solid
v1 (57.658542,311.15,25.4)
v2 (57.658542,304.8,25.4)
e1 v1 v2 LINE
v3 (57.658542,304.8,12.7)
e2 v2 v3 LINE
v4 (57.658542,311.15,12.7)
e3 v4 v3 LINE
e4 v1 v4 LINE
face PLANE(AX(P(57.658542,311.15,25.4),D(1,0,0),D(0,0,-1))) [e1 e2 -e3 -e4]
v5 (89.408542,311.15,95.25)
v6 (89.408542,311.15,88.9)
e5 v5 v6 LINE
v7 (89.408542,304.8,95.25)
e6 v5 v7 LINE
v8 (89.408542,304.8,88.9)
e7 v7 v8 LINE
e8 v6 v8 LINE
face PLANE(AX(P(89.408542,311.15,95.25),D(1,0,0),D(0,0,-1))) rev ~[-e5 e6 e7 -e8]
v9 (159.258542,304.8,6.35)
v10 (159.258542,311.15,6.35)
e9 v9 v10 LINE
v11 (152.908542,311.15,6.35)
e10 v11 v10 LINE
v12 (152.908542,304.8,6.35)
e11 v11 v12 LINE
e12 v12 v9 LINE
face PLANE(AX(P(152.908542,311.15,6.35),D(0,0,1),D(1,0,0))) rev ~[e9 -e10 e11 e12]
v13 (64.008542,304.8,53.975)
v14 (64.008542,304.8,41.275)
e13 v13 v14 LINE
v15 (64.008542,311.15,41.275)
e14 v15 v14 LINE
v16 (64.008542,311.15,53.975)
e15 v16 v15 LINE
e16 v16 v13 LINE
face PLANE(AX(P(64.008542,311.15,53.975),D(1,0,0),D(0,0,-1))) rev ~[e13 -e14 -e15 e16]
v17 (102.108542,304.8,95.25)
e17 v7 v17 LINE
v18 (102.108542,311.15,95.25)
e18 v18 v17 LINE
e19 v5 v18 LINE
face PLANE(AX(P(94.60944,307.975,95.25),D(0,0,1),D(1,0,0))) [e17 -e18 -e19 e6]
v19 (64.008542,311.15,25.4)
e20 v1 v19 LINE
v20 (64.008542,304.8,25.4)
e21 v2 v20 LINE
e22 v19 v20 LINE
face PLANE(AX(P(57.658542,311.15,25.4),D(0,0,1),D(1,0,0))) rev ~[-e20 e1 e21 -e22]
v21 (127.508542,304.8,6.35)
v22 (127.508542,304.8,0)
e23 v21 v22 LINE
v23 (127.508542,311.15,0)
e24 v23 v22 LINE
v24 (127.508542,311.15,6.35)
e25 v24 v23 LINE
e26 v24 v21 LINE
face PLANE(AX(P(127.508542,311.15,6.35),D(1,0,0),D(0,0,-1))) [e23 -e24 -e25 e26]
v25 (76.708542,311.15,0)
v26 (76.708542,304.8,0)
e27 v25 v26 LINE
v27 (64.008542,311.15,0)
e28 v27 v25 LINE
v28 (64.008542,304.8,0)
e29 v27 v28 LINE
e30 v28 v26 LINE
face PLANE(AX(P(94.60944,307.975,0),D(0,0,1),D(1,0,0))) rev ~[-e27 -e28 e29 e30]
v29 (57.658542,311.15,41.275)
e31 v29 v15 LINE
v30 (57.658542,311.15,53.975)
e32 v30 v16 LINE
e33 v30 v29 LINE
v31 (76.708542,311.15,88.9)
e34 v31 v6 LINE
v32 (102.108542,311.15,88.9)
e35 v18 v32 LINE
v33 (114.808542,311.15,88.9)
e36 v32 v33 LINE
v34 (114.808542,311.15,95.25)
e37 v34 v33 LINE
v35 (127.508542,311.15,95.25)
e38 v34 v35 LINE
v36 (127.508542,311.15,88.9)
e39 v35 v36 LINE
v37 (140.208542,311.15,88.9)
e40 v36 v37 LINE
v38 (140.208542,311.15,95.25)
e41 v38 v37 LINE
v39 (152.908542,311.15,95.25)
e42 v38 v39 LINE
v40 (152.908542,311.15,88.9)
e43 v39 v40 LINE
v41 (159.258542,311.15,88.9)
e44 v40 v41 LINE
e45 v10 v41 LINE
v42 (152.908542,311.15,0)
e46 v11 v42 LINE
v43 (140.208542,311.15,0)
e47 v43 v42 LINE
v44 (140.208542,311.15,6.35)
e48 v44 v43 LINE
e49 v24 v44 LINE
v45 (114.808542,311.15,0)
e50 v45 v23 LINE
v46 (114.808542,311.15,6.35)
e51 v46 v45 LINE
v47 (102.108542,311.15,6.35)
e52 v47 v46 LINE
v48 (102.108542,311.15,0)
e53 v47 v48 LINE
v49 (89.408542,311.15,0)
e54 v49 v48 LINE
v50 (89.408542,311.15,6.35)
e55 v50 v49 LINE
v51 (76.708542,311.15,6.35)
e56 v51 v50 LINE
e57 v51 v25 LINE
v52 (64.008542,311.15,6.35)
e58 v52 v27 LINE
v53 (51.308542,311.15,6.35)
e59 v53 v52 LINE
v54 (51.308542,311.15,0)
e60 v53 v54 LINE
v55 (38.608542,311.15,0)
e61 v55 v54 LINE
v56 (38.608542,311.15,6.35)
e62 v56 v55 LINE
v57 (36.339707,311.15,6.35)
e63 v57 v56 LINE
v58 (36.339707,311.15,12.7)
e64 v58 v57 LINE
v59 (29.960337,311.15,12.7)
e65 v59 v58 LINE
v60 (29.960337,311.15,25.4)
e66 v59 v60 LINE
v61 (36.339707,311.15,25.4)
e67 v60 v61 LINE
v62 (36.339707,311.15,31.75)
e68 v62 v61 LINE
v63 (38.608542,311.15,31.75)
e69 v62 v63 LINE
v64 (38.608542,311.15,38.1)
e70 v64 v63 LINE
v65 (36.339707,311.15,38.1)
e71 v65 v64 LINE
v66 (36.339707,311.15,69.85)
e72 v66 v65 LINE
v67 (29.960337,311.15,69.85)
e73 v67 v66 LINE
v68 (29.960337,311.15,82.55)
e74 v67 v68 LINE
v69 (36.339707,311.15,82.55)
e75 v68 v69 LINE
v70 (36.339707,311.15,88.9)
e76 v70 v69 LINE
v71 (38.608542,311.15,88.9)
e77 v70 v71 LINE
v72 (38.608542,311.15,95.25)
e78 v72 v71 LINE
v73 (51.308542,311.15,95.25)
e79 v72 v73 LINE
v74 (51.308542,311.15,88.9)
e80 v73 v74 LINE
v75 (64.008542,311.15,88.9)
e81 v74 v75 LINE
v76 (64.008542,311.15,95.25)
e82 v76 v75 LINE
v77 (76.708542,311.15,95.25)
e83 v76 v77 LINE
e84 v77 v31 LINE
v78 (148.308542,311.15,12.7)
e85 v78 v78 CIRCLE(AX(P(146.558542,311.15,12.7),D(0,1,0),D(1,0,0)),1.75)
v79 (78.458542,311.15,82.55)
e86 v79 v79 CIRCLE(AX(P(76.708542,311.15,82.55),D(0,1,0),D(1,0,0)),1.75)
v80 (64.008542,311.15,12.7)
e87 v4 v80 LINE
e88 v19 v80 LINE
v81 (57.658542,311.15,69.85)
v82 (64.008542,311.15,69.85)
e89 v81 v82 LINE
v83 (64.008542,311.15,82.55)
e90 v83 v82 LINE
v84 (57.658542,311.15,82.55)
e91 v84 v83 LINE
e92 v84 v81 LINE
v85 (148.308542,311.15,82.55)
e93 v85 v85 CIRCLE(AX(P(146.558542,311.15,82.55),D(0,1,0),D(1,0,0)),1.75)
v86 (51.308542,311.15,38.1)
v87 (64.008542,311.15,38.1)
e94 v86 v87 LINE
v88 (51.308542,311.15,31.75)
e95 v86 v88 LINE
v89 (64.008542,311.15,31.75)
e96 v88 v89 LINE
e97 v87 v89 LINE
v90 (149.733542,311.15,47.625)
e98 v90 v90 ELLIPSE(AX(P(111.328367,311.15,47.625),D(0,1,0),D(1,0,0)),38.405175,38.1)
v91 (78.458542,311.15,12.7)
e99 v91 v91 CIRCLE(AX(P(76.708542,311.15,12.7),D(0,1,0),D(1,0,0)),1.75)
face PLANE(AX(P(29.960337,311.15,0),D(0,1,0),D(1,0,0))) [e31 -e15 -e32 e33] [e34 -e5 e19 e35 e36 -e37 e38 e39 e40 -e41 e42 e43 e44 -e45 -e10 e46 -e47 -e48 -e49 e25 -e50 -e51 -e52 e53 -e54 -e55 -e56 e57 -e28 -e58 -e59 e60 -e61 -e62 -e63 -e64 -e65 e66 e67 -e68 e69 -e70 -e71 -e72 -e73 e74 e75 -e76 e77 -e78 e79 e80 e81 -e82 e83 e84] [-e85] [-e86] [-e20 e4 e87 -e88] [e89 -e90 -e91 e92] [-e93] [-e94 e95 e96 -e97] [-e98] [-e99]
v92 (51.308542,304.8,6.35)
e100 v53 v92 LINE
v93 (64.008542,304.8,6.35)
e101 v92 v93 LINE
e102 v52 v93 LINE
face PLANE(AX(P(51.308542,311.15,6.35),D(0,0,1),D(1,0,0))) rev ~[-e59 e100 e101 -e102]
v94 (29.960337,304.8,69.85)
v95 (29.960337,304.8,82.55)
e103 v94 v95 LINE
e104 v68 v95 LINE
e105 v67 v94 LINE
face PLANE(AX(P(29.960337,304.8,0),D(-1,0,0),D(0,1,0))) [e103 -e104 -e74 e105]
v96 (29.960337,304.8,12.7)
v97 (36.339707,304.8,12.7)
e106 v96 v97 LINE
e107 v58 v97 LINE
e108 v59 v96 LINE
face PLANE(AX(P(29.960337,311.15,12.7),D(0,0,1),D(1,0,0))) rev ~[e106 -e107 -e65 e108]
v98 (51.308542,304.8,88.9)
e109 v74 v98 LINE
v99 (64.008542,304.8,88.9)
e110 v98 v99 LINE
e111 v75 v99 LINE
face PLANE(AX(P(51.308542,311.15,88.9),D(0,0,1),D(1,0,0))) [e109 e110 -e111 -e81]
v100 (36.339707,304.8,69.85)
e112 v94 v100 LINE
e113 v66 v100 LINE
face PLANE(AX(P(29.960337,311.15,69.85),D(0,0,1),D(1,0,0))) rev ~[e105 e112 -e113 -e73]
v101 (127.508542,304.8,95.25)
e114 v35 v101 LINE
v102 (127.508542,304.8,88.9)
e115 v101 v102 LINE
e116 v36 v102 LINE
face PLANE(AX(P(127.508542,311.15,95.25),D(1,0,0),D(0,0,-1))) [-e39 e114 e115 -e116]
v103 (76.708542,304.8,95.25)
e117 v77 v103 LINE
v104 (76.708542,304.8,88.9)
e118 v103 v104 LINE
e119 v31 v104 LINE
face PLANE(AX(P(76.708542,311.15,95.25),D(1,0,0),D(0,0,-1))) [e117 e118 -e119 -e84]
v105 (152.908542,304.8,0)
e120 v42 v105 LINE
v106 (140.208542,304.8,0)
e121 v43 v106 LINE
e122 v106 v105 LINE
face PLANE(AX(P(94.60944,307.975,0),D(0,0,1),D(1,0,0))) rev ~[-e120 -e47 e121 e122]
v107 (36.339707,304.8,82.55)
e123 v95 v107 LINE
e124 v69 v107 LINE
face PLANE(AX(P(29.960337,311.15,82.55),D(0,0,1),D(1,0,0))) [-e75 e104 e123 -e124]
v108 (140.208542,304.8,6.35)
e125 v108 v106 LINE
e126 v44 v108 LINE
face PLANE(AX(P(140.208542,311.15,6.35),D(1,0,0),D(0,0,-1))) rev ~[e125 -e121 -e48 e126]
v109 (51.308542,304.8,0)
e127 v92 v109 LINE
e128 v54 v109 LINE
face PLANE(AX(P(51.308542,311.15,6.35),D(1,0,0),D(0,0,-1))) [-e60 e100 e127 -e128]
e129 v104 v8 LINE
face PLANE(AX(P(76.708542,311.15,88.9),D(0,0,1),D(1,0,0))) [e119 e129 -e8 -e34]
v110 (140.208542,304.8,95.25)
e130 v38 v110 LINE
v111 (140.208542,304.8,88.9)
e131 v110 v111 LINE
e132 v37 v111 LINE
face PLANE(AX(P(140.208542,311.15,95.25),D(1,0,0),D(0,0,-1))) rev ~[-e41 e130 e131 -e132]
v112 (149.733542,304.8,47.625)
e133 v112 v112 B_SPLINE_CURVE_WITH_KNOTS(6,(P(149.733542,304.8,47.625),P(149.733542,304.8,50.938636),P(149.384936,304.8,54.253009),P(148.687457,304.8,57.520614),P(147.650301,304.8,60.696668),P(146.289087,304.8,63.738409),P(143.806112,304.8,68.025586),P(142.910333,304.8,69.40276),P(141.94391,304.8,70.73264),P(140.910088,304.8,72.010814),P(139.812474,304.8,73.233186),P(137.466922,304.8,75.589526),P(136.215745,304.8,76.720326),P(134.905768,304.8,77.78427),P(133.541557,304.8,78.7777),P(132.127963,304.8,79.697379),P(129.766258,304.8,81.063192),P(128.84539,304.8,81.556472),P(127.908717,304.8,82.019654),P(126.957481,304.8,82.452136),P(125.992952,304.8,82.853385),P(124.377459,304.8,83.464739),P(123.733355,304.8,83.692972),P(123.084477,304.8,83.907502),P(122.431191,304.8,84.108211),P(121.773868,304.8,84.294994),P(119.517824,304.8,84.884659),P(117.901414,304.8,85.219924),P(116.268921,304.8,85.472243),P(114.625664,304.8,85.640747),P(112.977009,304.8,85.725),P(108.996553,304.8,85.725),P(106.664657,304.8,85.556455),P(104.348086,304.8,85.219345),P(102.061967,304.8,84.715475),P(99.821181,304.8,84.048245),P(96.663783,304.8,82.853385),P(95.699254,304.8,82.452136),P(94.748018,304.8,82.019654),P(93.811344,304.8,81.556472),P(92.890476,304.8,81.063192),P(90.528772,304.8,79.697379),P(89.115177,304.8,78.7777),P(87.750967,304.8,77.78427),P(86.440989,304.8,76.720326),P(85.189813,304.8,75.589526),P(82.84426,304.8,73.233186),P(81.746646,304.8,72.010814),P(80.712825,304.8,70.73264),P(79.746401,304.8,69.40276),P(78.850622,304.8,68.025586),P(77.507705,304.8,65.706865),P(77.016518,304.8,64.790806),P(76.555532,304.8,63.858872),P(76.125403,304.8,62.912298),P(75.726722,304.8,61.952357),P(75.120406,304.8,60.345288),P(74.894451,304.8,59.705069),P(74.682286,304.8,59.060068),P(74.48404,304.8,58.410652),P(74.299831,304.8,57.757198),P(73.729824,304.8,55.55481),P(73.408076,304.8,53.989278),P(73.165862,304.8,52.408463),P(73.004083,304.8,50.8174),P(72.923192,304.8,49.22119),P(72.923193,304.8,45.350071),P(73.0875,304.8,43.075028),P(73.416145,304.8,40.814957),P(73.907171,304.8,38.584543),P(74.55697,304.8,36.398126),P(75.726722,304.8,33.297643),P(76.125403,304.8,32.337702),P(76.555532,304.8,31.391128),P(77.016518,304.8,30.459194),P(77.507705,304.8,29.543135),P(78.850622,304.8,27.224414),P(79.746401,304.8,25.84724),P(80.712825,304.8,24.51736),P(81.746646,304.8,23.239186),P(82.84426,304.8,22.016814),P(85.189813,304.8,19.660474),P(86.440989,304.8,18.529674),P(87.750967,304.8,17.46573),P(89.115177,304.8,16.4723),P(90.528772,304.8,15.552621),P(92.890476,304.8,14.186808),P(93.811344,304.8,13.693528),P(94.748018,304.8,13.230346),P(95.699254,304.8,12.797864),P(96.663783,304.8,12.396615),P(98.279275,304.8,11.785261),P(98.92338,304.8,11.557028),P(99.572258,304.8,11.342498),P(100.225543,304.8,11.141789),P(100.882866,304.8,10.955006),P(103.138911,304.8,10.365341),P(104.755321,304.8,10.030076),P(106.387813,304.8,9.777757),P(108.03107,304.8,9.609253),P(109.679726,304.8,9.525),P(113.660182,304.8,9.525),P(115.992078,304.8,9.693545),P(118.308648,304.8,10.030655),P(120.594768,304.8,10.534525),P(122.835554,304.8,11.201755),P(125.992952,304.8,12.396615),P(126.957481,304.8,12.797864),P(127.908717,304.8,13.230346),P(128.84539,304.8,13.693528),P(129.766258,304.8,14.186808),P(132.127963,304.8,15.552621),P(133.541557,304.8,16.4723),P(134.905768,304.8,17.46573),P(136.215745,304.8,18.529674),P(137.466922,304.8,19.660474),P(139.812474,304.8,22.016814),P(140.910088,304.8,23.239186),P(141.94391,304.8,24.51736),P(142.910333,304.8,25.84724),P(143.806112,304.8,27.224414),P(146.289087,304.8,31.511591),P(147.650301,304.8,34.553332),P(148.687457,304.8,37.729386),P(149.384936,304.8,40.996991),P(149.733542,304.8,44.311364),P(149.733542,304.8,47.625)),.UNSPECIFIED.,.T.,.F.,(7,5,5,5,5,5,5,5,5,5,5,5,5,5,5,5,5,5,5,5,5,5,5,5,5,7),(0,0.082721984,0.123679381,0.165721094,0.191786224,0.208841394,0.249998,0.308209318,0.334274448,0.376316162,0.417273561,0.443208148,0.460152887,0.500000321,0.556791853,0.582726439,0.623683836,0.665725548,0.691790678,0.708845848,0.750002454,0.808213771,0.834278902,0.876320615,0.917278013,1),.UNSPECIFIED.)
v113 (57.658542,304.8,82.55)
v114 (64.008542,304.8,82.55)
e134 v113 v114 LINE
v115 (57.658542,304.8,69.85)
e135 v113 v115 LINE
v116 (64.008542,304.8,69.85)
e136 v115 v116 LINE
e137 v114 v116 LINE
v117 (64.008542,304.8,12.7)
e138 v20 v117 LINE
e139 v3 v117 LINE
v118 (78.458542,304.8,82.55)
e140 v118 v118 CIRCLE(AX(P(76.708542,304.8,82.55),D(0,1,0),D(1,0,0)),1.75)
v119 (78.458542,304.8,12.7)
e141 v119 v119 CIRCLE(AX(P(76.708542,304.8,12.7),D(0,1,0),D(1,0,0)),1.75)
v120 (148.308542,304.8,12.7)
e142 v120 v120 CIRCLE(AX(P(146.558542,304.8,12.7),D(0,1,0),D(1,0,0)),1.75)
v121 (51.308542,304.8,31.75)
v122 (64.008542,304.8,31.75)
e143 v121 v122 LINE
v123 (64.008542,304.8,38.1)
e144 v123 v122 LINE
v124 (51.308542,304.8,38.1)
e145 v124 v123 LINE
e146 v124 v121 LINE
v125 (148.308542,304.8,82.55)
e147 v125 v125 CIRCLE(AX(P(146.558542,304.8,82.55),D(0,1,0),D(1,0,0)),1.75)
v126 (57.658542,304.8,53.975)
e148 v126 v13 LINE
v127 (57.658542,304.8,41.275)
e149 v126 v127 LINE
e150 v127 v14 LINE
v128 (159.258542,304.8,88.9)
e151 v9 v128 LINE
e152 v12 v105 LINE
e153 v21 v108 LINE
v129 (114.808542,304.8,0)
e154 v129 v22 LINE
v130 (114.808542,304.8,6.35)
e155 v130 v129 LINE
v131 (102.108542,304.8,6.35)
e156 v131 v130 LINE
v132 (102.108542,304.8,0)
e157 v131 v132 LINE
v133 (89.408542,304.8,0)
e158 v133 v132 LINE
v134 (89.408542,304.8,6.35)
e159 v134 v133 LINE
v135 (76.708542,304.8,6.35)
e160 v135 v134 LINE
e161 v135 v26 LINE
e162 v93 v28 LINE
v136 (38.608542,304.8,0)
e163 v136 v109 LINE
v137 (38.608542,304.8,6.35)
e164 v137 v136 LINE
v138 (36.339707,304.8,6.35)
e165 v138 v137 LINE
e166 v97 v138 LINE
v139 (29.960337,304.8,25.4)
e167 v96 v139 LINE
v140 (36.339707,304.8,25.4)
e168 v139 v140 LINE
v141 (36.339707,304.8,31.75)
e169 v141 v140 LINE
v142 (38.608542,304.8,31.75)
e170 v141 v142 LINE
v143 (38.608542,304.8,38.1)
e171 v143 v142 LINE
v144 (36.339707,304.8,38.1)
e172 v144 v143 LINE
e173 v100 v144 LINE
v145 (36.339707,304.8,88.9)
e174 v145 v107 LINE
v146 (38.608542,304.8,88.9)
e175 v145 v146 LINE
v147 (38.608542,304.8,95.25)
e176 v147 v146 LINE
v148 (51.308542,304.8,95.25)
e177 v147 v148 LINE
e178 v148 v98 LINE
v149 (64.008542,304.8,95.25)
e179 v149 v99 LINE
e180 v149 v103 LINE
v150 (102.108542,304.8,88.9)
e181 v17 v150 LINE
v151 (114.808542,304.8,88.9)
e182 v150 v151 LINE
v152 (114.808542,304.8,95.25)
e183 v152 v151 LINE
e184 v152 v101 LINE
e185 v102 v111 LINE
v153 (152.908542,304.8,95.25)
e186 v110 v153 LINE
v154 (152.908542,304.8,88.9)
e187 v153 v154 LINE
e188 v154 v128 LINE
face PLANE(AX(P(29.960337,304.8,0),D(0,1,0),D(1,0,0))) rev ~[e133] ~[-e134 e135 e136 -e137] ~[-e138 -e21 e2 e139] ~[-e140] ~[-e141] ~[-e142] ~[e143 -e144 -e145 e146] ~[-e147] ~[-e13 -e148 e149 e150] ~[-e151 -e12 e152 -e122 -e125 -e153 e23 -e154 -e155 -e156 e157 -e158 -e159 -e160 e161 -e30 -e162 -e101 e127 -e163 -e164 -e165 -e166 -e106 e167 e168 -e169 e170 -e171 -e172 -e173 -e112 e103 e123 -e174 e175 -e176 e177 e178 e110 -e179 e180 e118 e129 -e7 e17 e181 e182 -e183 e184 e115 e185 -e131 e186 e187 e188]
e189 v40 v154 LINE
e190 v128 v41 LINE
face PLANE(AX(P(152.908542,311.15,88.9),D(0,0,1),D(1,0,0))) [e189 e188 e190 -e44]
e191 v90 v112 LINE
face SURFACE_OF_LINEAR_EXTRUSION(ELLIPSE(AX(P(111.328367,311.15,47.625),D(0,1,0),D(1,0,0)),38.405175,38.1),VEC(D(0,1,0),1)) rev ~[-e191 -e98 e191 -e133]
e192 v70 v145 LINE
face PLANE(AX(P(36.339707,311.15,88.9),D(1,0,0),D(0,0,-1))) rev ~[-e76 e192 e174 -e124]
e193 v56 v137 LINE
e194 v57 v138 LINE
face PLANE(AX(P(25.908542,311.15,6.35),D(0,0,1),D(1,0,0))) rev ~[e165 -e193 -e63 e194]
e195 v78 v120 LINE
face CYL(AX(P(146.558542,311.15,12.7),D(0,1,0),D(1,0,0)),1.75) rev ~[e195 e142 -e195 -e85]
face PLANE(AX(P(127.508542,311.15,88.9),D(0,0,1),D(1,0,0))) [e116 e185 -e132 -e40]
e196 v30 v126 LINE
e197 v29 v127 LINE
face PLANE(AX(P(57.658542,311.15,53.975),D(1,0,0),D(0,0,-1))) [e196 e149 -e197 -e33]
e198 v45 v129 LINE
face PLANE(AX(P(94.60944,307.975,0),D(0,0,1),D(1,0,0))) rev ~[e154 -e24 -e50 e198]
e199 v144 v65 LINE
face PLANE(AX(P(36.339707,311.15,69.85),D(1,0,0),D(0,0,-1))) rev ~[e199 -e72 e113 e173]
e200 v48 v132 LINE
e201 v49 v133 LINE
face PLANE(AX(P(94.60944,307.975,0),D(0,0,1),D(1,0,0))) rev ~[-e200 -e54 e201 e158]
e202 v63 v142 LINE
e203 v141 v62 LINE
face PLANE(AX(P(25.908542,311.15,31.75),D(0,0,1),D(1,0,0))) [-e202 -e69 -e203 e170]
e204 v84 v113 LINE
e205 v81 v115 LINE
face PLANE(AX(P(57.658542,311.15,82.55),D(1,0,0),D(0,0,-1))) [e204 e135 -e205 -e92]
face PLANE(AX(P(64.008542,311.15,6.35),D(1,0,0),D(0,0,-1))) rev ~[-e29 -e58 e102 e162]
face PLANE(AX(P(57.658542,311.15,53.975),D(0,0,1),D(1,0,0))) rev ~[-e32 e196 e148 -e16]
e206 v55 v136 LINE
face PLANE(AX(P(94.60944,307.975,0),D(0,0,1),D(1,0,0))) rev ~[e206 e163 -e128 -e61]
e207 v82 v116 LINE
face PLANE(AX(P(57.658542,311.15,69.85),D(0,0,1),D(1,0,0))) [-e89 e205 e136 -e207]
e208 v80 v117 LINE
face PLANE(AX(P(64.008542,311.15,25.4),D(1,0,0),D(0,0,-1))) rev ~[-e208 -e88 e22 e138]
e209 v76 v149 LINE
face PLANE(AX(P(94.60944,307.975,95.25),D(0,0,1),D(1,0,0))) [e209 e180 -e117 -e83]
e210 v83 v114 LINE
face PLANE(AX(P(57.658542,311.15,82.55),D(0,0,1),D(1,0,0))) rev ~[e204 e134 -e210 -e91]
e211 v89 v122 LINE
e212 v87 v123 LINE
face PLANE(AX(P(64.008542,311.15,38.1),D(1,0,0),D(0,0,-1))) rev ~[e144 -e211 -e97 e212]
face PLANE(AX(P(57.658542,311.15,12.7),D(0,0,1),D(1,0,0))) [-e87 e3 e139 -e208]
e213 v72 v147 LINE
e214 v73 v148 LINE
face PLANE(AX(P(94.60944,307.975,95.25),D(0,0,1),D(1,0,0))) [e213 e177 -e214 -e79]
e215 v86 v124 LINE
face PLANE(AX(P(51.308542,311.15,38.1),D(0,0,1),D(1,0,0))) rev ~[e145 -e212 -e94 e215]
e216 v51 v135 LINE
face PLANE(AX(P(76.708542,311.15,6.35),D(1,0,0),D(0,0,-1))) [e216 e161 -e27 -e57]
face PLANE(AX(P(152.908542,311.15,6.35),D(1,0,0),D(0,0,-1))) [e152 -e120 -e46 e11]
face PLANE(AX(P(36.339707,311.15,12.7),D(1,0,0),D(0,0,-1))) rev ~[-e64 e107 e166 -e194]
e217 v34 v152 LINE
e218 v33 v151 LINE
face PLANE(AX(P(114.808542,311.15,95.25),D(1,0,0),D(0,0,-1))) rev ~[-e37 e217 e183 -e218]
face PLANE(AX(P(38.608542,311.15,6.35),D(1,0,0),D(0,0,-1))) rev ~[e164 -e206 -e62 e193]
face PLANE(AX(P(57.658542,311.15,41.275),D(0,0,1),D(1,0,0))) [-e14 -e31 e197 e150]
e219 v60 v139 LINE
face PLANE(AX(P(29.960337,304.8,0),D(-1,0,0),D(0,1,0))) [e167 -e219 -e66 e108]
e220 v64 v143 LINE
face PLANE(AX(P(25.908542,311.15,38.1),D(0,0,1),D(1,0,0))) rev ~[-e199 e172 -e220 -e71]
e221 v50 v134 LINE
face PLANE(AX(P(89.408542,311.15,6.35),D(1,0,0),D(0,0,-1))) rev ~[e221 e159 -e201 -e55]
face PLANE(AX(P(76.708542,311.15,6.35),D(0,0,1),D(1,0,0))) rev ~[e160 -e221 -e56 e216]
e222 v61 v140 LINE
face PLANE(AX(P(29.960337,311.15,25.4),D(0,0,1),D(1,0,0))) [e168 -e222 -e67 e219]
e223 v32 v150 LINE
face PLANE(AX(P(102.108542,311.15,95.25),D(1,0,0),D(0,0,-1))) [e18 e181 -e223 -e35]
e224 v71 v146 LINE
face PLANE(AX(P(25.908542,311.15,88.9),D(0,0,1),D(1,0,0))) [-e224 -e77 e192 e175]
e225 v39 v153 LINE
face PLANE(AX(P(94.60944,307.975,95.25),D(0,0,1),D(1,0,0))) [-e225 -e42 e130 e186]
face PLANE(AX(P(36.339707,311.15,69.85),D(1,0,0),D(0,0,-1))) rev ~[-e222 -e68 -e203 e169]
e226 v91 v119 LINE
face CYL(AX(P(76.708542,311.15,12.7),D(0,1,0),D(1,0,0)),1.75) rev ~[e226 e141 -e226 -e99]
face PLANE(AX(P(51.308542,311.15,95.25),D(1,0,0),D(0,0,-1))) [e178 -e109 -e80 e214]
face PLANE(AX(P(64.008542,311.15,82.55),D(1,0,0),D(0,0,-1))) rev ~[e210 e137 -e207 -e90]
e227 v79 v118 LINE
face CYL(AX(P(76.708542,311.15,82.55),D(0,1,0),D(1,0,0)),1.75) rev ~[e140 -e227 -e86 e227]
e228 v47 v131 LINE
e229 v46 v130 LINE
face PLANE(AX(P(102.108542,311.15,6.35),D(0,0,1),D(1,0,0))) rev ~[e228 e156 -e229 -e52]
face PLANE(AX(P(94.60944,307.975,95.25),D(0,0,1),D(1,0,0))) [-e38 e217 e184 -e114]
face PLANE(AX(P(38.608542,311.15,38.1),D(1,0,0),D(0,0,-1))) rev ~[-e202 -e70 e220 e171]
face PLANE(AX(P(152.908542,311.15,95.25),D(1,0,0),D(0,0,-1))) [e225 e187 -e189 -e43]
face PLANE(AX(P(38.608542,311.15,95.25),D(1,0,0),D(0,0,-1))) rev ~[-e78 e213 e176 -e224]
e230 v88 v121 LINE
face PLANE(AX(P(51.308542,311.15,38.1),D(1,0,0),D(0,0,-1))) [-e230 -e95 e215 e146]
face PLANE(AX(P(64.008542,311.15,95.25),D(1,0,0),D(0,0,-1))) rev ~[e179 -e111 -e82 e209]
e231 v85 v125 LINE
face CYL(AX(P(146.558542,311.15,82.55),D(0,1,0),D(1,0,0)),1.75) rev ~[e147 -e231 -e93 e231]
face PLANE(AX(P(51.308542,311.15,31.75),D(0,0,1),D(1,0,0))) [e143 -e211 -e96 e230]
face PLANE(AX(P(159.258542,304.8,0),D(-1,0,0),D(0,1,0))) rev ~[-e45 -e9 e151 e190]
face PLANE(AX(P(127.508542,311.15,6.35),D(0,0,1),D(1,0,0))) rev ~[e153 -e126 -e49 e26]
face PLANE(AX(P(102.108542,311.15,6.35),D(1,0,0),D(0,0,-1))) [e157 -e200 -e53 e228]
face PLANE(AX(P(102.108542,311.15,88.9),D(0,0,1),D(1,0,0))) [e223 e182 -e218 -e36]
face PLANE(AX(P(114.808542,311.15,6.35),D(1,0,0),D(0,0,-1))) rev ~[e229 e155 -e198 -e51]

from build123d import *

# Parameters (mm, degrees)
SKETCH5_W           = 129.298204438
SKETCH5_H           = 6.35
BOSS_EXTRUDE1_DEPTH = 95.25
SKETCH6_R           = 1.75
SKETCH6_RX          = 38.405174548
SKETCH6_RY          = 38.1
CUT_EXTRUDE3_DEPTH  = 7.35
SKETCH7_W           = 12.7
SKETCH7_H           = 6.35
CUT_EXTRUDE4_DEPTH  = 7.3500001
LPATTERN1_COUNT     = 17
LPATTERN1_PITCH     = 25.4
SKETCH8_W           = 12.7
SKETCH8_H           = 6.35
CUT_EXTRUDE5_DEPTH  = 7.3500001
SKETCH9_W           = 6.35
SKETCH9_H           = 12.7
CUT_EXTRUDE6_DEPTH  = 7.3500001
SKETCH10_W          = 6.379369351
SKETCH10_H          = 6.35
SKETCH10_H_2        = 44.45
CUT_EXTRUDE7_DEPTH  = 7.3500001


with BuildPart() as part:
    # Sketch5 → Boss-Extrude1 (new body)
    with BuildSketch(Plane.XY):
        with Locations((94.609439566, 307.975)):
            Rectangle(SKETCH5_W, SKETCH5_H)
    extrude(amount=BOSS_EXTRUDE1_DEPTH)

    # Sketch6 → Cut-Extrude3 (cut, through all)
    with BuildSketch(Plane(origin=(0, 311.15, 0), x_dir=(1, 0, 0), z_dir=(0, 1, 0))):
        with Locations((76.708541785, -12.7)):
            Circle(SKETCH6_R)
        with Locations((76.708541785, -82.55)):
            Circle(SKETCH6_R)
        with Locations((146.558541785, -82.55)):
            Circle(SKETCH6_R)
        with Locations((146.558541785, -12.7)):
            Circle(SKETCH6_R)
        with Locations((111.328367236, -47.625)):
            Ellipse(SKETCH6_RX, SKETCH6_RY)
    extrude(amount=-CUT_EXTRUDE3_DEPTH, mode=Mode.SUBTRACT)

    # Sketch7 → Cut-Extrude4 (cut, through all)
    with BuildSketch(Plane(origin=(0, 311.15, 0), x_dir=(1, 0, 0), z_dir=(0, 1, 0))):
        with Locations((159.258541785, -3.175)):
            Rectangle(SKETCH7_W, SKETCH7_H)
        with Locations((159.258541785, -92.075)):
            Rectangle(SKETCH7_W, SKETCH7_H)
    cut_extrude4 = extrude(amount=-CUT_EXTRUDE4_DEPTH, mode=Mode.SUBTRACT)

    # LPattern1: Cut-Extrude4 ×17
    with Locations(*[(-i * LPATTERN1_PITCH, 0, 0) for i in range(1, LPATTERN1_COUNT)]):
        add(cut_extrude4, mode=Mode.SUBTRACT)

    # Sketch8 → Cut-Extrude5 (cut, through all)
    with BuildSketch(Plane(origin=(0, 311.15, 0), x_dir=(1, 0, 0), z_dir=(0, 1, 0))):
        with Locations((32.258541785, -34.925)):
            Rectangle(SKETCH8_W, SKETCH8_H)
        with Locations((57.658541785, -34.925)):
            Rectangle(SKETCH8_W, SKETCH8_H)
    extrude(amount=-CUT_EXTRUDE5_DEPTH, mode=Mode.SUBTRACT)

    # Sketch9 → Cut-Extrude6 (cut, through all)
    with BuildSketch(Plane(origin=(0, 311.15, 0), x_dir=(1, 0, 0), z_dir=(0, 1, 0))):
        with Locations((60.833541785, -47.625)):
            Rectangle(SKETCH9_W, SKETCH9_H)
        with Locations((60.833541785, -19.05)):
            Rectangle(SKETCH9_W, SKETCH9_H)
        with Locations((60.833541785, -76.2)):
            Rectangle(SKETCH9_W, SKETCH9_H)
    extrude(amount=-CUT_EXTRUDE6_DEPTH, mode=Mode.SUBTRACT)

    # Sketch10 → Cut-Extrude7 (cut, through all)
    with BuildSketch(Plane(origin=(0, 311.15, 0), x_dir=(1, 0, 0), z_dir=(0, 1, 0))):
        with Locations((33.150022023, -9.525)):
            Rectangle(SKETCH10_W, SKETCH10_H)
        with Locations((33.150022023, -47.625)):
            Rectangle(SKETCH10_W, SKETCH10_H_2)
        with Locations((33.150022023, -85.725)):
            Rectangle(SKETCH10_W, SKETCH10_H)
    extrude(amount=-CUT_EXTRUDE7_DEPTH, mode=Mode.SUBTRACT)


solid = part.part
